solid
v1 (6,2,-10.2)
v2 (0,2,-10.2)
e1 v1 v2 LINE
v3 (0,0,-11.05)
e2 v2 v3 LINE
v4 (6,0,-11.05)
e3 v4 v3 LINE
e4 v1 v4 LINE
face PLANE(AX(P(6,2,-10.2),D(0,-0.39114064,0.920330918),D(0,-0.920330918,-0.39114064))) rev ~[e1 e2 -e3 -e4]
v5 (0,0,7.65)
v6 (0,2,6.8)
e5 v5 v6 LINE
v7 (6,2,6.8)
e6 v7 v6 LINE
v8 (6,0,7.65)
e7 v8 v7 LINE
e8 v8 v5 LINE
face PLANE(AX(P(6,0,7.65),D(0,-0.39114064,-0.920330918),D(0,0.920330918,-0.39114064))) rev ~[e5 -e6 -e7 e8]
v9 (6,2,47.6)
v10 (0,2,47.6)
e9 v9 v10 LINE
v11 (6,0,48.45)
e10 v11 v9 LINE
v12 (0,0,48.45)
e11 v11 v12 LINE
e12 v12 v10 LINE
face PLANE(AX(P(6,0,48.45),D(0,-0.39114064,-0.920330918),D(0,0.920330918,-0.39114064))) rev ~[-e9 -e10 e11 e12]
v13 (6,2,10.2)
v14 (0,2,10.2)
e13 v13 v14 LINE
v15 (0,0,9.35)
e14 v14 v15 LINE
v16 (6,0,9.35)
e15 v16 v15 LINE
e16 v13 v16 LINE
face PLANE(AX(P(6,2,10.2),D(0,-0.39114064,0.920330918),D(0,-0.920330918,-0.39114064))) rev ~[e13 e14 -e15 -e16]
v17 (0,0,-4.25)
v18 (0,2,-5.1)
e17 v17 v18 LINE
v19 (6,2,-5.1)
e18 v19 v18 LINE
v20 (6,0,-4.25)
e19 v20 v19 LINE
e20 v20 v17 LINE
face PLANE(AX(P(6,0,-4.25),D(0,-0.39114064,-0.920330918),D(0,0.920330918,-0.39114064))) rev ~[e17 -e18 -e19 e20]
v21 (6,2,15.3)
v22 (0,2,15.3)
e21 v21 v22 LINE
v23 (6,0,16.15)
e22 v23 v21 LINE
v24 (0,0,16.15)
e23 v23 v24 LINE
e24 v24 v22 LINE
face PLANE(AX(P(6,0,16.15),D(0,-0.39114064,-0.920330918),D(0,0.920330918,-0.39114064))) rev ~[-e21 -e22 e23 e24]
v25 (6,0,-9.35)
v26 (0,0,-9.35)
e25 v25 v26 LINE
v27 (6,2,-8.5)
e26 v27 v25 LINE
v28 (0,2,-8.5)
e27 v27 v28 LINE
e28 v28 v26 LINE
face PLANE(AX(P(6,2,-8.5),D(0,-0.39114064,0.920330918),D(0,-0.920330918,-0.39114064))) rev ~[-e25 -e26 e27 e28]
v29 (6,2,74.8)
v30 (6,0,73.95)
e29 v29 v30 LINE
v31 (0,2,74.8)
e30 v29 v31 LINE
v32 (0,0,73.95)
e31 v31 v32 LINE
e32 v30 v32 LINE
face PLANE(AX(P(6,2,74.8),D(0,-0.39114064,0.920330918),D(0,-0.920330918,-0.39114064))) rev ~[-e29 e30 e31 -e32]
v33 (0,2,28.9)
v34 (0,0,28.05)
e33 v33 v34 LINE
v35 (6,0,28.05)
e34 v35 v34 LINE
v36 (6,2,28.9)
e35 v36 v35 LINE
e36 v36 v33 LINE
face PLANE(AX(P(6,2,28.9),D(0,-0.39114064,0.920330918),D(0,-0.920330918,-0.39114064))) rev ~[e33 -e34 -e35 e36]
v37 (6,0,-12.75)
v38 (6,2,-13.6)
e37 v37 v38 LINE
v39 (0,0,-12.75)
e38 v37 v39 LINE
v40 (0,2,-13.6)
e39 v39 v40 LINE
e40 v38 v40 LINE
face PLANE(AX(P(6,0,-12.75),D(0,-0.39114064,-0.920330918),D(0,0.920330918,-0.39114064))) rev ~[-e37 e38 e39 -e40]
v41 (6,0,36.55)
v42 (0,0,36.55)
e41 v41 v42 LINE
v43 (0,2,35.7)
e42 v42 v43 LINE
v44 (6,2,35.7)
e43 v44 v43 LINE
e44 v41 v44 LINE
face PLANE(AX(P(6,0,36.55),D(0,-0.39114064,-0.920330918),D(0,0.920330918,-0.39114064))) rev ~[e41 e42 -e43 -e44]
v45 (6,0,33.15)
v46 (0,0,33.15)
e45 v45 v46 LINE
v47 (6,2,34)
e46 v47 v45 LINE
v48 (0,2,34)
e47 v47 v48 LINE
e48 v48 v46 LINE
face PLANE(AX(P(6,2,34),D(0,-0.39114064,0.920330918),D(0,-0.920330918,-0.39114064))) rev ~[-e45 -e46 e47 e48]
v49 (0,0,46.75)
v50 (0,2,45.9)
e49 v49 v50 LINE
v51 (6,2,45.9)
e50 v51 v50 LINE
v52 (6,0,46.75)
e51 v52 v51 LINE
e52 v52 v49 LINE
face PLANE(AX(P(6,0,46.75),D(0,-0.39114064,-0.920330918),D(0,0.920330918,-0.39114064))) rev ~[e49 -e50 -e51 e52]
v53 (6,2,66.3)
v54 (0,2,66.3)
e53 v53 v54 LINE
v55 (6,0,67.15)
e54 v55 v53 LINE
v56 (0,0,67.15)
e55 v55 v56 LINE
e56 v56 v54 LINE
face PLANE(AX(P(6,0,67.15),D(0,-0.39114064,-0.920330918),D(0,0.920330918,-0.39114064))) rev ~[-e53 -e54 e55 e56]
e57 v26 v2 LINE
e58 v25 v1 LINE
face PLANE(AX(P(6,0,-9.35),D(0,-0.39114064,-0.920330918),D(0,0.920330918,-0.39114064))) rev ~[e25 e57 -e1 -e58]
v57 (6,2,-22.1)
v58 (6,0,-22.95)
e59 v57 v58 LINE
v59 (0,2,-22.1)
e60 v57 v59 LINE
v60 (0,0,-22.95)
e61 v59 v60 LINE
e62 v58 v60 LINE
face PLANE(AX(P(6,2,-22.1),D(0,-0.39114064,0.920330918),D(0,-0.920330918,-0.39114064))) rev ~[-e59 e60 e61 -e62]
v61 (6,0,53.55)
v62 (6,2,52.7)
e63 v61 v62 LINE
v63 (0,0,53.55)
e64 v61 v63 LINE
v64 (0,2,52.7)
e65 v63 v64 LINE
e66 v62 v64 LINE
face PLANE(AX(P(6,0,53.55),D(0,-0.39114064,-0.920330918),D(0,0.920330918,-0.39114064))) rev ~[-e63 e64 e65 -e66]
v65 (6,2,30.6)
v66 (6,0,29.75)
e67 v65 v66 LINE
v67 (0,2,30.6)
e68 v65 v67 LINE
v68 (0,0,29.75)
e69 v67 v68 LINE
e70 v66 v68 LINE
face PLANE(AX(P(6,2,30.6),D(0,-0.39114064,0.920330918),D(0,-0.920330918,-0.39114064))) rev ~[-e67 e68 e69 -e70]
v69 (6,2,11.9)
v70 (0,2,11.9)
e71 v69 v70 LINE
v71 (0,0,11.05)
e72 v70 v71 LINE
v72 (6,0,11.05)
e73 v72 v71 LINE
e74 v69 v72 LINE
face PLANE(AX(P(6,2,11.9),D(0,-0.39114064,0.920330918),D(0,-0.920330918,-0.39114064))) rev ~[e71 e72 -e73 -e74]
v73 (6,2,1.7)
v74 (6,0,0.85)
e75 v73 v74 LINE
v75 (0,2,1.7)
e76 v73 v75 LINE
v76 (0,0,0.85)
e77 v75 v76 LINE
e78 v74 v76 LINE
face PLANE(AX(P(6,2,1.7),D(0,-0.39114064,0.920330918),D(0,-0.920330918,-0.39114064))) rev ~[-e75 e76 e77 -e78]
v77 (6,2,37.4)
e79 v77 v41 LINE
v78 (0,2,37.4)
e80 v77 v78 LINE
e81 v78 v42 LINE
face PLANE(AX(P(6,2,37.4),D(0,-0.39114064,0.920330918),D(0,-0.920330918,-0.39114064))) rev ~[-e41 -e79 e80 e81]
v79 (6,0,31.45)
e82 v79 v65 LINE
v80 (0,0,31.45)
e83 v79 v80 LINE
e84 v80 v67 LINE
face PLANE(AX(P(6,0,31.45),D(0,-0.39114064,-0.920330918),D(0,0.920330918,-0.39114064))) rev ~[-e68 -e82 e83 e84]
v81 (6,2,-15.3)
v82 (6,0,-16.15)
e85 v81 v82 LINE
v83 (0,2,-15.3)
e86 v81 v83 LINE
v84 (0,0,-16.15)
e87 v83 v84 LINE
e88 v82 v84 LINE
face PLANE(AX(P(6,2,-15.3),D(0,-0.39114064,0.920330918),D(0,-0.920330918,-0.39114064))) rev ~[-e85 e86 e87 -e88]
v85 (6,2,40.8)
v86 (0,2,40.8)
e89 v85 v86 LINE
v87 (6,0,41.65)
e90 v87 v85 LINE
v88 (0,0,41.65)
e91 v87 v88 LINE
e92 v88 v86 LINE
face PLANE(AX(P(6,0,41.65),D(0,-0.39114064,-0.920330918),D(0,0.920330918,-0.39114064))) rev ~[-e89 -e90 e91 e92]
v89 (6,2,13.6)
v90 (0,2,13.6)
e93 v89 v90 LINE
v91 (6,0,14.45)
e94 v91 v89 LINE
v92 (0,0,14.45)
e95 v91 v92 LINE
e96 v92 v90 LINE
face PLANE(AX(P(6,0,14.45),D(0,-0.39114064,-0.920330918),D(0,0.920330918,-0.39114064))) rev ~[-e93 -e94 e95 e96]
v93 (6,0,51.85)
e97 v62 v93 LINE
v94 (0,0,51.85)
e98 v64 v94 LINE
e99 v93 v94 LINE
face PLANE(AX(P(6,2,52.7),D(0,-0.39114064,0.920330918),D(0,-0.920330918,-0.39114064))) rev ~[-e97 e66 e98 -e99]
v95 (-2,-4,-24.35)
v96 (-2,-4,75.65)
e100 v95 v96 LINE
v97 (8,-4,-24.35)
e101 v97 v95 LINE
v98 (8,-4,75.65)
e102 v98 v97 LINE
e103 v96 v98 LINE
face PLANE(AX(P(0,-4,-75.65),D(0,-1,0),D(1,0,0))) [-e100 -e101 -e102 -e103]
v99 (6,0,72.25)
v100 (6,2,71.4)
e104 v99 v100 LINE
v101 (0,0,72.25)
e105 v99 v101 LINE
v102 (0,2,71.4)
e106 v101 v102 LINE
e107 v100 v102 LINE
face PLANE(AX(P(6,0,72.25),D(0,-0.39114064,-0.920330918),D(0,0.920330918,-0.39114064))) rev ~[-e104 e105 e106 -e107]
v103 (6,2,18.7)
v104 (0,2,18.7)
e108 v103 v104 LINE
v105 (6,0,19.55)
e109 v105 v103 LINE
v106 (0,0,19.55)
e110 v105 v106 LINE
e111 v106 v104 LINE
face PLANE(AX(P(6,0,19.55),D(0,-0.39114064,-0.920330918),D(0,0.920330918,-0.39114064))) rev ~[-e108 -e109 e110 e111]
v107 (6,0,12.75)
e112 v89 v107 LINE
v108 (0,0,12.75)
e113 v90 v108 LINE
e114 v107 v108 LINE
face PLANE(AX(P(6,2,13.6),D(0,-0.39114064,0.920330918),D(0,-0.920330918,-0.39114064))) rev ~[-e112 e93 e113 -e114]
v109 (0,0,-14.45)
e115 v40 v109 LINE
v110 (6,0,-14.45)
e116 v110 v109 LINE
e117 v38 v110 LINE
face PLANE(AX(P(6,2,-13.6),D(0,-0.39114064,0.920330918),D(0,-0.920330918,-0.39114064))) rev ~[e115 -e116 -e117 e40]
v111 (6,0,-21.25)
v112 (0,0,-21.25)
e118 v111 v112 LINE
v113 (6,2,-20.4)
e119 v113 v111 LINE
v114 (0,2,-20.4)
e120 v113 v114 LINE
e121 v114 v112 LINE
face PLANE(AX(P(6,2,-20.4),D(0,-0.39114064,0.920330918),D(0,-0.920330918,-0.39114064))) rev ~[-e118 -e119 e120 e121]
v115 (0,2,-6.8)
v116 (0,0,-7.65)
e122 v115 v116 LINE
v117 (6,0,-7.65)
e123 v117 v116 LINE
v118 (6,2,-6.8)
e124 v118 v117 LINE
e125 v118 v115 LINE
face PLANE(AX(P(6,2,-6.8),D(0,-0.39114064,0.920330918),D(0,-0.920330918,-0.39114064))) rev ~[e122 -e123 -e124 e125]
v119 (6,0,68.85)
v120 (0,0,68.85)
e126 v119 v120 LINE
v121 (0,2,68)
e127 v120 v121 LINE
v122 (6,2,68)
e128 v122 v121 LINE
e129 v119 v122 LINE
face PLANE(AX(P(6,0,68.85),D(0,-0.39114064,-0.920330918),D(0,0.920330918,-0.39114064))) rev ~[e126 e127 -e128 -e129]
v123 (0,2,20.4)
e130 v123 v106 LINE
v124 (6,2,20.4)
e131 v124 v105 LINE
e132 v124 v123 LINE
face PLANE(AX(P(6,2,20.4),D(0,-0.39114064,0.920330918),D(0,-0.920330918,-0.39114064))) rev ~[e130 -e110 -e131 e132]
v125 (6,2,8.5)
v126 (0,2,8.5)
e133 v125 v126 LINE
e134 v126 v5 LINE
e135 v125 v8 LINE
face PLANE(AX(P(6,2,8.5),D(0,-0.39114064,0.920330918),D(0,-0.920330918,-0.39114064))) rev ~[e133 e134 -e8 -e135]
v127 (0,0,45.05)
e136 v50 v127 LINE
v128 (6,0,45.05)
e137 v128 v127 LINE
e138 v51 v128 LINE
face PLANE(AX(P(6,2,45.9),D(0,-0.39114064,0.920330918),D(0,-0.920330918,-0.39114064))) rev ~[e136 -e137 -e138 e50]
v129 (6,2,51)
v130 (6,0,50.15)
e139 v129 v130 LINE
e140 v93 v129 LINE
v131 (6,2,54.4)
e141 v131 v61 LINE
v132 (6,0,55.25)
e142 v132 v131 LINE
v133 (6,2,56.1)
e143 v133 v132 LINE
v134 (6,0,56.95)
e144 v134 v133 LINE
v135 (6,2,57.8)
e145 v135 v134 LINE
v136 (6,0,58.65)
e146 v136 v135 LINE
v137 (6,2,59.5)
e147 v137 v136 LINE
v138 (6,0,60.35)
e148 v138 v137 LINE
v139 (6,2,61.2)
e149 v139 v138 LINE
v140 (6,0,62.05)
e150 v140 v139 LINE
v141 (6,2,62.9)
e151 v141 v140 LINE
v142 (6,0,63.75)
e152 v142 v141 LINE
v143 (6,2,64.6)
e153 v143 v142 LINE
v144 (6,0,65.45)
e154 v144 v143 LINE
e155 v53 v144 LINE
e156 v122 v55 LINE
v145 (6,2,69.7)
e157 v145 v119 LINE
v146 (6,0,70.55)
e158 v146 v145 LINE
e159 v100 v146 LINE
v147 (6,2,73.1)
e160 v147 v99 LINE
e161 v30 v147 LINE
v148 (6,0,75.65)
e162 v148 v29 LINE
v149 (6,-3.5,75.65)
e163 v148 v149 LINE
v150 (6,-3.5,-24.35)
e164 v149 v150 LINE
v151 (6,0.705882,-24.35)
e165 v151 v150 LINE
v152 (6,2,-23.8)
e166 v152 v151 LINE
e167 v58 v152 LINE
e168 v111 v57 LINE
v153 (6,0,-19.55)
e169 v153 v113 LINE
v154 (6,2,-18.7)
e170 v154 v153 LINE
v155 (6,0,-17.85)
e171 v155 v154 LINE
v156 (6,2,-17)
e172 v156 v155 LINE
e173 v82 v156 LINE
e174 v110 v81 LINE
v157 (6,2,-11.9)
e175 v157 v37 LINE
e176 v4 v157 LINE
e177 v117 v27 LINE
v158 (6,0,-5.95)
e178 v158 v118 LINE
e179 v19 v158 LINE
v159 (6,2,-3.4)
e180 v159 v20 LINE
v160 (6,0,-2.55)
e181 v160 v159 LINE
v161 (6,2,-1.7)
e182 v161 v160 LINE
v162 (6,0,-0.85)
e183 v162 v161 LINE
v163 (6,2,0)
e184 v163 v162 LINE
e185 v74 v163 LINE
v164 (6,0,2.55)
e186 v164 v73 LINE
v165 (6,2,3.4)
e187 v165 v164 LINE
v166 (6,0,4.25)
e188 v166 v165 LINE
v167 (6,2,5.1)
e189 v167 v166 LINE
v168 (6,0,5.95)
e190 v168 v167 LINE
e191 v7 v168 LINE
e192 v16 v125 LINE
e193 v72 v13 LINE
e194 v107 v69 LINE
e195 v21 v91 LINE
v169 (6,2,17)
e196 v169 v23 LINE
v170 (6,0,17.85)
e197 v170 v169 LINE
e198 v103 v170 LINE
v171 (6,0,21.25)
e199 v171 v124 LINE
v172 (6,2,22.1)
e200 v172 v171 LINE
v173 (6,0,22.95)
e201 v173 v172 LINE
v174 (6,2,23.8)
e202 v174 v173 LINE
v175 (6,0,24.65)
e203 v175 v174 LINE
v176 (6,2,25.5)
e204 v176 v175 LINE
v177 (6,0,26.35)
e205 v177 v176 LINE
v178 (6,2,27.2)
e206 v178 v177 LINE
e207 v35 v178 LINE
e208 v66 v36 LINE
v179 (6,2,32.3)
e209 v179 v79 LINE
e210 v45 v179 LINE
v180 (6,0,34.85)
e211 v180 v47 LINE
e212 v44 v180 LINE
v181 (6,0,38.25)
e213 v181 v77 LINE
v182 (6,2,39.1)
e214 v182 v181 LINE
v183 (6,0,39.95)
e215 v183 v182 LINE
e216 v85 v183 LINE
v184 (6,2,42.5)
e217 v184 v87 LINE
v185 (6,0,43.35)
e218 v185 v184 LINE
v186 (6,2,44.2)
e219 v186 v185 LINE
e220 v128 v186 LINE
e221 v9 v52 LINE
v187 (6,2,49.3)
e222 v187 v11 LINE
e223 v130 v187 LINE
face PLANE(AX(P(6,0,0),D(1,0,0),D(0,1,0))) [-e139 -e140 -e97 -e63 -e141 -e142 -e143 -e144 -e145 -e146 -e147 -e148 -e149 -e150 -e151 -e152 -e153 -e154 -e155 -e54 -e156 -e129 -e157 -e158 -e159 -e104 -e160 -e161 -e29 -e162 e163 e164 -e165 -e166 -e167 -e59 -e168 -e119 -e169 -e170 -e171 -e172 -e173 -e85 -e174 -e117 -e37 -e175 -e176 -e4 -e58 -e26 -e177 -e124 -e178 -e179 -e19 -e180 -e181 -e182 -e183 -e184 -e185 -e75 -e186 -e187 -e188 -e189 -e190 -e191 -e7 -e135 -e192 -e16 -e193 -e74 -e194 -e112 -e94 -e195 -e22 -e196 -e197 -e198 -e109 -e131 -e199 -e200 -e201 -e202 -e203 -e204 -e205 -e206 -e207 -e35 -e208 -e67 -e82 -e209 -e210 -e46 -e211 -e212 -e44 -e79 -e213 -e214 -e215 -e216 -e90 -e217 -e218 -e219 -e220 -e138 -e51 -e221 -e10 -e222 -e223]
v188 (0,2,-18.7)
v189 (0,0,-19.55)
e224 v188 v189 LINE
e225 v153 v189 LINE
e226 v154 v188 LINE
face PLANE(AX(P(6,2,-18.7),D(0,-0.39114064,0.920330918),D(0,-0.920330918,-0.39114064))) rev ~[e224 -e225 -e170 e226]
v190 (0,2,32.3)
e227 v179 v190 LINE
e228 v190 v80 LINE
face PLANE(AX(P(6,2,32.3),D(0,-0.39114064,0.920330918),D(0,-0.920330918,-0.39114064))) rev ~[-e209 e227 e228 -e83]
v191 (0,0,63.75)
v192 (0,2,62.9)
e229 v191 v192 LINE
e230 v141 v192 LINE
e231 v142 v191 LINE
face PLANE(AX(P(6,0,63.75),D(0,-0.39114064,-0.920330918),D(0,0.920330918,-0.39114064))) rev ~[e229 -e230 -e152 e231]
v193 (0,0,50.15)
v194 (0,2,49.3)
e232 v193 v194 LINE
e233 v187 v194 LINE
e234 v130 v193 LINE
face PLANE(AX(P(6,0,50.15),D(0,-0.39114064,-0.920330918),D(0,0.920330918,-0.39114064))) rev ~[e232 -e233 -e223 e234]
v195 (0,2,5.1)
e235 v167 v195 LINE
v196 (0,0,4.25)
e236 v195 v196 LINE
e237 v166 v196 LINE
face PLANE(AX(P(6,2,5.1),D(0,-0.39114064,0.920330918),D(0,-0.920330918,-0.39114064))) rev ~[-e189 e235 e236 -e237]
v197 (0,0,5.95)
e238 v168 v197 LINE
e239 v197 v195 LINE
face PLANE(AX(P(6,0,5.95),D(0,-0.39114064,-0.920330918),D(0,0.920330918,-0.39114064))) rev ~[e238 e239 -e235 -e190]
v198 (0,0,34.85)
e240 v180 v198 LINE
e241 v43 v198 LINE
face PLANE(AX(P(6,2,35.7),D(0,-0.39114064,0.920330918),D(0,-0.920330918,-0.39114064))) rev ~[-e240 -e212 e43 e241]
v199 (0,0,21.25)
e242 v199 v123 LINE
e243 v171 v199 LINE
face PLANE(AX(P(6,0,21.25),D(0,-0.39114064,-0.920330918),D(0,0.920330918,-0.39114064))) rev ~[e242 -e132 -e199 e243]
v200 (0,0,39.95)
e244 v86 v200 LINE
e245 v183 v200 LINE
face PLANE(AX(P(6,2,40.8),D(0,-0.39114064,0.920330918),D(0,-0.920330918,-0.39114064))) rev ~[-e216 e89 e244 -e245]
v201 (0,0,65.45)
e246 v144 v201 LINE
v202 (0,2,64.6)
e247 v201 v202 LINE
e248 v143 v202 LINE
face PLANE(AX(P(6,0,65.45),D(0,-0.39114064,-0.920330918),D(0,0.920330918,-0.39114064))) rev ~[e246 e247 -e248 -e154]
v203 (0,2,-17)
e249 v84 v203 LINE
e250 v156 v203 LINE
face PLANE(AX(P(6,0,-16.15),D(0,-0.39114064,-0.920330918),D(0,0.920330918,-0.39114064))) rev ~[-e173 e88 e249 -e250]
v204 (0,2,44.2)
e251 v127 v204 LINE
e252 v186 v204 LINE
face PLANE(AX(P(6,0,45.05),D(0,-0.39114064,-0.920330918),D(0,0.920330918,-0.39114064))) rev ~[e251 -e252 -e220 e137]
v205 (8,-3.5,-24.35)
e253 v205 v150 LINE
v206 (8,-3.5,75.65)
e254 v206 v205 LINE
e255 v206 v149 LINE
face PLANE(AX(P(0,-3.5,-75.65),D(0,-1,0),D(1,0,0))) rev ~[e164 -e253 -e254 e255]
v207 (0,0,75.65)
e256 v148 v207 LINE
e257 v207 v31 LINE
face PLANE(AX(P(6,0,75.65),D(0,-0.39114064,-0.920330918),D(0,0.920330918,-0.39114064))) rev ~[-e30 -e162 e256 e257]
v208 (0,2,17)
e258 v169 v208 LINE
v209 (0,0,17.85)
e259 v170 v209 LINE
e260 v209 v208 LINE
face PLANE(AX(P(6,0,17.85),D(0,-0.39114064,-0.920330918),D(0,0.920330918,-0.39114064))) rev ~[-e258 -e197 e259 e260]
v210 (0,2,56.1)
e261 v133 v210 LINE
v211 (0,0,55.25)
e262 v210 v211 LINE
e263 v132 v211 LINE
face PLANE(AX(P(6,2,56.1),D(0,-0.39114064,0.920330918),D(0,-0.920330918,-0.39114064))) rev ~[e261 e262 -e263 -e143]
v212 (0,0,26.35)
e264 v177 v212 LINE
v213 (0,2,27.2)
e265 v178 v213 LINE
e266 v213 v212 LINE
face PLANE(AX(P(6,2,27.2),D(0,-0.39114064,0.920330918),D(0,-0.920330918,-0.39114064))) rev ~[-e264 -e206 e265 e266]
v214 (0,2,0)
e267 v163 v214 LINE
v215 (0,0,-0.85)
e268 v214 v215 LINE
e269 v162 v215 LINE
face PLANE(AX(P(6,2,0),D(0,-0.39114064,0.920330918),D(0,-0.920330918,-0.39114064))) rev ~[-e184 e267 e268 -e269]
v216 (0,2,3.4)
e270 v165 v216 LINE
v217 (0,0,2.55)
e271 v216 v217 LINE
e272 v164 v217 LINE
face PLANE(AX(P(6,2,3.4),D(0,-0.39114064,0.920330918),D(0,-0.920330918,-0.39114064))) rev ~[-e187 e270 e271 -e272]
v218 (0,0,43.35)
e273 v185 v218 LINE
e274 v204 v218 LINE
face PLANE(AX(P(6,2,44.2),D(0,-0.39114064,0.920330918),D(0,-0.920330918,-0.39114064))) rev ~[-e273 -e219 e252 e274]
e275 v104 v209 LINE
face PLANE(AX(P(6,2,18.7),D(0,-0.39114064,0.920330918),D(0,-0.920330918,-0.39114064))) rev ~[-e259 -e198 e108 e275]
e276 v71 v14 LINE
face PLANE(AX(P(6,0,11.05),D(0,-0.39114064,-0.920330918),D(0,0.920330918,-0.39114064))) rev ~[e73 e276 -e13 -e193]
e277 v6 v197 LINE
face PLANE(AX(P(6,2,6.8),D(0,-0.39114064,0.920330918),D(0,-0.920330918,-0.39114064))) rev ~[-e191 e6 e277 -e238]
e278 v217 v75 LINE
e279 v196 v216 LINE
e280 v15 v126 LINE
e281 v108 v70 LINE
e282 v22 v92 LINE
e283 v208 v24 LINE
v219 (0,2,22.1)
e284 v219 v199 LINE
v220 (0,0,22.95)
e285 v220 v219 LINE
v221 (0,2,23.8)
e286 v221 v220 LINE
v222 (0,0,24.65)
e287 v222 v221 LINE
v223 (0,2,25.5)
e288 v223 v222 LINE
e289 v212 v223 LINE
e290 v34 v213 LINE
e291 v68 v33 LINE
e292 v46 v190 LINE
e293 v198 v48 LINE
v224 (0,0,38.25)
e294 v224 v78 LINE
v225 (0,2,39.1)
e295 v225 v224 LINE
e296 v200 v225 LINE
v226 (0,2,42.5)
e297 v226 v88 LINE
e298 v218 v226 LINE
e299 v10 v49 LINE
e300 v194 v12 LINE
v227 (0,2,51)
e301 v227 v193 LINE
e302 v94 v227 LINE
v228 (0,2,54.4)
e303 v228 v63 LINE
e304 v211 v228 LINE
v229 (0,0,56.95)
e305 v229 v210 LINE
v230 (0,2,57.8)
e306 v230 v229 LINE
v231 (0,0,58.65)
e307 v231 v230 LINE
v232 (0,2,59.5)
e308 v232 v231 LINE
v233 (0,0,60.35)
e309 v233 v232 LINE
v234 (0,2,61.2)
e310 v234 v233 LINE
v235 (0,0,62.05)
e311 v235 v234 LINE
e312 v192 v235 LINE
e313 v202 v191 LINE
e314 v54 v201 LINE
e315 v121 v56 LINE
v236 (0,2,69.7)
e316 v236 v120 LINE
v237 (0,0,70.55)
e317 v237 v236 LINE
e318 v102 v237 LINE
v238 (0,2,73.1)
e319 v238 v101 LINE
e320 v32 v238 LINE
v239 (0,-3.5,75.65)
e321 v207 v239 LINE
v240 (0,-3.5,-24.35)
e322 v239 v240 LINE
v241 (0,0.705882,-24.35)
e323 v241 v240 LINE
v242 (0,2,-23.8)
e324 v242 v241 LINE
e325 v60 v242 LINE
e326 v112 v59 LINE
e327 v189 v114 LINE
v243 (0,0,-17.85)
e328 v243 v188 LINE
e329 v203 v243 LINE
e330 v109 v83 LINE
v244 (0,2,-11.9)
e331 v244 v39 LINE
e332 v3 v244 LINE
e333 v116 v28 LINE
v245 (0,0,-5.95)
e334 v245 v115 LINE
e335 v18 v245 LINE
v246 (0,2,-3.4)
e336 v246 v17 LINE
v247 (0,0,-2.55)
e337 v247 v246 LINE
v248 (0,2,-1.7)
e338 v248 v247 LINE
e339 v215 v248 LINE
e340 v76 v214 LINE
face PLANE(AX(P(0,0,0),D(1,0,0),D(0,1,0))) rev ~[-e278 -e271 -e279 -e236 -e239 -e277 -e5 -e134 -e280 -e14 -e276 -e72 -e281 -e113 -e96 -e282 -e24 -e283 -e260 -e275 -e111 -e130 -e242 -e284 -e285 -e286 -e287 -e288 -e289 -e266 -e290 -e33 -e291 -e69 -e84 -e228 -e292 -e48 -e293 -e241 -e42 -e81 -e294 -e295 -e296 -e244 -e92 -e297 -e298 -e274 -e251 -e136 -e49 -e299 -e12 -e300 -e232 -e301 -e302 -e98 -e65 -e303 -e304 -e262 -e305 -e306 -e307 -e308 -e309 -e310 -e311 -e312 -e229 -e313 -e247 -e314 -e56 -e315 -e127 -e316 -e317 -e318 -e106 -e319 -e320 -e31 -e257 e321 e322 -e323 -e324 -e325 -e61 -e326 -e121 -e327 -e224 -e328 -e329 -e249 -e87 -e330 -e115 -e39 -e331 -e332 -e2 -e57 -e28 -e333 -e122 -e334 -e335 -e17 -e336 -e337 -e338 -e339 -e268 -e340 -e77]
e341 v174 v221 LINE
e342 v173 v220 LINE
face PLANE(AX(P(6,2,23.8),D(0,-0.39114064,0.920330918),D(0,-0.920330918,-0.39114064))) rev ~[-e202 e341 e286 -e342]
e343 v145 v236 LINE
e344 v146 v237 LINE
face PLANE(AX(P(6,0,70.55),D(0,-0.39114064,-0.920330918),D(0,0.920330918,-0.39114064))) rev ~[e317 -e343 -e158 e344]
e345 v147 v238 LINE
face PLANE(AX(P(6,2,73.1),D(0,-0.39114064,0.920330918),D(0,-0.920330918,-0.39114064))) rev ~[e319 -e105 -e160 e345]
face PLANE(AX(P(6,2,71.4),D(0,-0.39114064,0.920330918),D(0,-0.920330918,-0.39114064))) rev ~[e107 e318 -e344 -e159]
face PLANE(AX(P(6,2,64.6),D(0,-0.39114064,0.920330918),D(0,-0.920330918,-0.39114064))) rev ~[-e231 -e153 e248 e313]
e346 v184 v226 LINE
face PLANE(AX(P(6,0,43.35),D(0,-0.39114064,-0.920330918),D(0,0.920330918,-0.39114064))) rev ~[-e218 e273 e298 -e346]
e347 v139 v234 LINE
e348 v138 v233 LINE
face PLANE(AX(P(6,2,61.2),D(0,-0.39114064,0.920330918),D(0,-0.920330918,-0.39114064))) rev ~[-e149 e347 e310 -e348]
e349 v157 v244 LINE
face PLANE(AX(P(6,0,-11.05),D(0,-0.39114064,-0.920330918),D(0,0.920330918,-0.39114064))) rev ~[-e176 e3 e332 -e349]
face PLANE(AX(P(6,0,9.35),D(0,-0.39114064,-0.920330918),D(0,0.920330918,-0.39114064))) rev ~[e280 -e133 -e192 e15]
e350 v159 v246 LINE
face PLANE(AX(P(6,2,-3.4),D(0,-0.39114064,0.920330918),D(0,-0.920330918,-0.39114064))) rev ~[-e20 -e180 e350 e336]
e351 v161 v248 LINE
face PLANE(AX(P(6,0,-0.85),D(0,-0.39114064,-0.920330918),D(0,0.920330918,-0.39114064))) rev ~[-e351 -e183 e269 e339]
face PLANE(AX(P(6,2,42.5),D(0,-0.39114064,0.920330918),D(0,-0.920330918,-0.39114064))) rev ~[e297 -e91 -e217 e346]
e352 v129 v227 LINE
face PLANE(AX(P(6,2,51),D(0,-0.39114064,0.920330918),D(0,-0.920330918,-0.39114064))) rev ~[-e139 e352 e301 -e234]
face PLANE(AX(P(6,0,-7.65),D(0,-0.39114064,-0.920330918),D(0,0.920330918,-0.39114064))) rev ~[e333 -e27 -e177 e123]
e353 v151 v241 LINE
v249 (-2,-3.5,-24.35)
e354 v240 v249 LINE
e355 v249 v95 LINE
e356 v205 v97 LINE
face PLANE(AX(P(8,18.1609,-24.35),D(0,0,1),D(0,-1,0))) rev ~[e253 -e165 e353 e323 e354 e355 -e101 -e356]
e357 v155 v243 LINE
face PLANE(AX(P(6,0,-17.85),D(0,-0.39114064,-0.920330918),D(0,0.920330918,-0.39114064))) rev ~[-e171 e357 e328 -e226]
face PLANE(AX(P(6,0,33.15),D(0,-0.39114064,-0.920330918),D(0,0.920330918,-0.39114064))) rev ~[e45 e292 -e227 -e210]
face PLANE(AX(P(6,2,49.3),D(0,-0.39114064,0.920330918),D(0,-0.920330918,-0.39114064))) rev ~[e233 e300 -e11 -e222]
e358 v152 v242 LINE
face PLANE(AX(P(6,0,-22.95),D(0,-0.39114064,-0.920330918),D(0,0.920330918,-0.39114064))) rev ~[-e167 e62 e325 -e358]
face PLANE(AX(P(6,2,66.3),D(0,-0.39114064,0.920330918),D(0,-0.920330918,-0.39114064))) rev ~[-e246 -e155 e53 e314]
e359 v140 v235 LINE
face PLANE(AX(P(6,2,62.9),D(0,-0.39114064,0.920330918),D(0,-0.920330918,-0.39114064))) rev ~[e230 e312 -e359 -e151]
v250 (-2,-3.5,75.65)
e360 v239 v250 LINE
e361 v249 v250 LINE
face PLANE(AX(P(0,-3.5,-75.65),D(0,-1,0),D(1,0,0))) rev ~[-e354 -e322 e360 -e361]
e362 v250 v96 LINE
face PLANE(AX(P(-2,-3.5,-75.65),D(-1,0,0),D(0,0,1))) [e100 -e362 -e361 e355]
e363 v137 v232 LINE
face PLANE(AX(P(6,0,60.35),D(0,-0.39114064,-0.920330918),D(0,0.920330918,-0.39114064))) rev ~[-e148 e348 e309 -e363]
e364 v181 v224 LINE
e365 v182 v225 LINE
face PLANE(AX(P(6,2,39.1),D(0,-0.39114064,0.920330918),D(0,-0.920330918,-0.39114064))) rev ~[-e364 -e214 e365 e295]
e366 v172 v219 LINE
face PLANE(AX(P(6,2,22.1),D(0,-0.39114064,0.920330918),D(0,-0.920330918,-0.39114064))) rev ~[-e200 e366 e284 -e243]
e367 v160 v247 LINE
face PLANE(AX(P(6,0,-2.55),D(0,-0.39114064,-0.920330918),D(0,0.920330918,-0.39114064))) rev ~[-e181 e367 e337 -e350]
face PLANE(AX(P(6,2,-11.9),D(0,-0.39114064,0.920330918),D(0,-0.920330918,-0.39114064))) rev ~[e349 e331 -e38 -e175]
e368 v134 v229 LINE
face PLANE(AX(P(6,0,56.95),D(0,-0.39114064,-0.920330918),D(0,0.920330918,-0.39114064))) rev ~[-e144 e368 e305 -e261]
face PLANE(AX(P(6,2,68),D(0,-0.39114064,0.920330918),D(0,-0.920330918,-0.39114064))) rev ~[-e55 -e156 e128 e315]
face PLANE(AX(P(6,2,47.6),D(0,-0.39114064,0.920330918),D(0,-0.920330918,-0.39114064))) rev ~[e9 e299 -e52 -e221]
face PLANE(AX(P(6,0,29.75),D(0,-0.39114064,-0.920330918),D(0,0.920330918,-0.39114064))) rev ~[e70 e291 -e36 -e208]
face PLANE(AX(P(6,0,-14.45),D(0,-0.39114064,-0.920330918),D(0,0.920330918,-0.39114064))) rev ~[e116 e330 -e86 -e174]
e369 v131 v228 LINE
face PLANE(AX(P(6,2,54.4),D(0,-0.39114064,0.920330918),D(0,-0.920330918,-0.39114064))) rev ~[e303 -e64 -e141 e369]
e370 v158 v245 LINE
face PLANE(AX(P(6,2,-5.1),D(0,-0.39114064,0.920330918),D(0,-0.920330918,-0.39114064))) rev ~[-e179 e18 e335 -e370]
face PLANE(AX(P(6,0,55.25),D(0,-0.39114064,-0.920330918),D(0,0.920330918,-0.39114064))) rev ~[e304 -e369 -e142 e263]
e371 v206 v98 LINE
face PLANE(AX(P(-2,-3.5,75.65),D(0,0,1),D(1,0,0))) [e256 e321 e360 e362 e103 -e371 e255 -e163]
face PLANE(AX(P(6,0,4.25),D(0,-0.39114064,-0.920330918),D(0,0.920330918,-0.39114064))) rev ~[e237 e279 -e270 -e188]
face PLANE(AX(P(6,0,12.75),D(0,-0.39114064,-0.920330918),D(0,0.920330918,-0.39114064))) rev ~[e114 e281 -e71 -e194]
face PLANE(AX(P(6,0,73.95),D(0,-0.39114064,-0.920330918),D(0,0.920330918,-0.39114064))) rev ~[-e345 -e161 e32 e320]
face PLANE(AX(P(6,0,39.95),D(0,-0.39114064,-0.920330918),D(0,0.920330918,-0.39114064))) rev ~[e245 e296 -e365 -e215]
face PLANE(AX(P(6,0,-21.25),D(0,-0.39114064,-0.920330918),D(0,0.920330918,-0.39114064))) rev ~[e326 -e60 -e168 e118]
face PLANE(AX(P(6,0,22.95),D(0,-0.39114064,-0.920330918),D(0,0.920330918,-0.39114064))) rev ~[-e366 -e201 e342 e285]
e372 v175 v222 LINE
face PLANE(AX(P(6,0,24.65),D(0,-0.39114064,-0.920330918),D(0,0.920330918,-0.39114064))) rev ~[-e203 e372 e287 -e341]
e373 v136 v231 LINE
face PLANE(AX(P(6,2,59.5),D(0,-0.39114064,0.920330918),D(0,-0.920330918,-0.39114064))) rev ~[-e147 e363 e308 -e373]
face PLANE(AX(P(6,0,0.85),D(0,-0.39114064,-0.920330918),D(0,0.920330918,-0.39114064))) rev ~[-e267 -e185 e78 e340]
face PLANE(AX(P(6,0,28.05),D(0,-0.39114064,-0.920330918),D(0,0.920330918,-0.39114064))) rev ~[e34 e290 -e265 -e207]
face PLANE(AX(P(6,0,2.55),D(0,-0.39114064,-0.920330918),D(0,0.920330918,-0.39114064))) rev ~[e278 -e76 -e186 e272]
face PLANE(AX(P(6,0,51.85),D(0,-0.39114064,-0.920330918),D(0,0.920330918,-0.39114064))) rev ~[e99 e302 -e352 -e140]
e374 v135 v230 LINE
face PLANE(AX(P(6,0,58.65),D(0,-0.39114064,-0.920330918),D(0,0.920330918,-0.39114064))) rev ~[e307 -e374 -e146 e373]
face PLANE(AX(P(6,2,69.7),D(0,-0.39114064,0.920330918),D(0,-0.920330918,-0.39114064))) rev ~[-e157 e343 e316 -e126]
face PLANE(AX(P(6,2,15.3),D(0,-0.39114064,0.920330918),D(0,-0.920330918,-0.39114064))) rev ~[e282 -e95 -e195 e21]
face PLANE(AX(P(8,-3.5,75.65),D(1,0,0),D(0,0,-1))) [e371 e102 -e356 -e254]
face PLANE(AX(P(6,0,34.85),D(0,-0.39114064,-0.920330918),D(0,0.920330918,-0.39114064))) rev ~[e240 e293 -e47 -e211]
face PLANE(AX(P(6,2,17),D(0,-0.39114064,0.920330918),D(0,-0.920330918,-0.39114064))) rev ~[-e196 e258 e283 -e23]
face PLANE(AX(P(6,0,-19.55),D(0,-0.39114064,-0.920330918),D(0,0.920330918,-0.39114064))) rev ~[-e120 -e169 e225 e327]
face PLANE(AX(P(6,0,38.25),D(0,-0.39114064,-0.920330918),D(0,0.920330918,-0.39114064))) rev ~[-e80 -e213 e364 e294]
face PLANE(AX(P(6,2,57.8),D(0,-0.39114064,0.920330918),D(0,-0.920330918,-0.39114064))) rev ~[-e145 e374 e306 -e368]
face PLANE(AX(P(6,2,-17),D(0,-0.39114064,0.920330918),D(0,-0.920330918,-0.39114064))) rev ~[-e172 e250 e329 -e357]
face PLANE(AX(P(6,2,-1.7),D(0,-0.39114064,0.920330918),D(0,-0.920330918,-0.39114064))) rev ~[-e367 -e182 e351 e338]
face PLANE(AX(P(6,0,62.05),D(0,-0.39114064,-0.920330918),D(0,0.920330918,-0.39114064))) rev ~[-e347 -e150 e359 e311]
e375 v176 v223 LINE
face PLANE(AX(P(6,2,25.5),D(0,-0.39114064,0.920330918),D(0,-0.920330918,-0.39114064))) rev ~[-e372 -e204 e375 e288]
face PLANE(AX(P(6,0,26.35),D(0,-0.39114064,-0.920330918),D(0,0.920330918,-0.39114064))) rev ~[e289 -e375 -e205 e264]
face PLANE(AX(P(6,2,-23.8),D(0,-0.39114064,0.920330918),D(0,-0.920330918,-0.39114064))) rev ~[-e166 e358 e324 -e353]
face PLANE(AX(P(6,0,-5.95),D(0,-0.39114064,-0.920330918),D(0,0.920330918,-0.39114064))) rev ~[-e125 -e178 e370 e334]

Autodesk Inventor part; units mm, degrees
ref_plane "YZ Plane" through (0, 0, 0) normal (1, 0, 0) x (0, 1, 0)
ref_plane "XZ Plane" through (0, 0, 0) normal (0, 1, 0) x (-1, 0, 0)
ref_plane "XY Plane" through (0, 0, 0) normal (0, 0, 1) x (1, 0, 0)
sketch "Skizze1" plane through (0, 0, 0) normal (1, 0, 0) x (0, 1, 0)
  line L0 (3.5, 75.65) -> (-3.5, 75.65)
  line L1 (-3.5, 75.65) -> (-3.5, -75.65)
  line L2 (-3.5, -75.65) -> (3.5, -75.65)
  line L3 (3.5, -75.65) -> (3.5, 75.65)
  line L4 (3.5, 75.65) -> (-3.5, -75.65) construction
  line L5 (-3.5, 75.65) -> (3.5, -75.65) construction
  point P0 (0, 0)
  dimension "d0" = 7
  dimension "d1" = 151.3
extrude "Extrusion1" add sketch "Skizze1" along normal blind 6
sketch "Skizze3" plane through (0, -3.5, -75.65) normal (0, -1, 0) x (1, 0, 0)
  line L0 (-2, 151.3) -> (8, 151.3)
  line L1 (8, 151.3) -> (8, 0)
  line L2 (8, 0) -> (-2, 0)
  line L3 (-2, 0) -> (-2, 151.3)
  line L4 (6, 151.3) -> (6, 0) projected
  line L5 (0, 151.3) -> (6, 151.3) projected
  point P0 (0, 75.65)
  dimension "d21" = 151.3
  dimension "d22" = 10
  dimension "d23" = 2
  dimension "d24" = 0
extrude "Extrusion3" add sketch "Skizze3" along normal blind 0.5
sketch "Skizze5" plane through (6, 0, 0) normal (1, 0, 0) x (0, 0, -1)
  line L0 (-75.65, 3.5) -> (-75.65, -3.5) projected
  line L1 (-75.65, 0) -> (-74.8, 2)
  line L2 (-74.8, 2) -> (-73.95, 0)
  line L3 (75.65, 3.5) -> (-75.65, 3.5) projected
  line L4 (-73.1, 2) -> (-72.25, 0)
  line L5 (-73.95, 0) -> (-73.1, 2)
  line L6 (-71.4, 2) -> (-70.55, 0)
  line L7 (-72.25, 0) -> (-71.4, 2)
  line L8 (-69.7, 2) -> (-68.85, 0)
  line L9 (-70.55, 0) -> (-69.7, 2)
  line L10 (-68, 2) -> (-67.15, 0)
  line L11 (-68.85, 0) -> (-68, 2)
  line L12 (-66.3, 2) -> (-65.45, 0)
  line L13 (-67.15, 0) -> (-66.3, 2)
  line L14 (-64.6, 2) -> (-63.75, 0)
  line L15 (-65.45, 0) -> (-64.6, 2)
  line L16 (-62.9, 2) -> (-62.05, 0)
  line L17 (-63.75, 0) -> (-62.9, 2)
  line L18 (-61.2, 2) -> (-60.35, 0)
  line L19 (-62.05, 0) -> (-61.2, 2)
  line L20 (-59.5, 2) -> (-58.65, 0)
  line L21 (-60.35, 0) -> (-59.5, 2)
  line L22 (-57.8, 2) -> (-56.95, 0)
  line L23 (-58.65, 0) -> (-57.8, 2)
  line L24 (-56.1, 2) -> (-55.25, 0)
  line L25 (-56.95, 0) -> (-56.1, 2)
  line L26 (-54.4, 2) -> (-53.55, 0)
  line L27 (-55.25, 0) -> (-54.4, 2)
  line L28 (-52.7, 2) -> (-51.85, 0)
  line L29 (-53.55, 0) -> (-52.7, 2)
  line L30 (-51, 2) -> (-50.15, 0)
  line L31 (-51.85, 0) -> (-51, 2)
  line L32 (-49.3, 2) -> (-48.45, 0)
  line L33 (-50.15, 0) -> (-49.3, 2)
  line L34 (-47.6, 2) -> (-46.75, 0)
  line L35 (-48.45, 0) -> (-47.6, 2)
  line L36 (-45.9, 2) -> (-45.05, 0)
  line L37 (-46.75, 0) -> (-45.9, 2)
  line L38 (-44.2, 2) -> (-43.35, 0)
  line L39 (-45.05, 0) -> (-44.2, 2)
  line L40 (-42.5, 2) -> (-41.65, 0)
  line L41 (-43.35, 0) -> (-42.5, 2)
  line L42 (-40.8, 2) -> (-39.95, 0)
  line L43 (-41.65, 0) -> (-40.8, 2)
  line L44 (-39.1, 2) -> (-38.25, 0)
  line L45 (-39.95, 0) -> (-39.1, 2)
  line L46 (-37.4, 2) -> (-36.55, 0)
  line L47 (-38.25, 0) -> (-37.4, 2)
  line L48 (-35.7, 2) -> (-34.85, 0)
  line L49 (-36.55, 0) -> (-35.7, 2)
  line L50 (-34, 2) -> (-33.15, 0)
  line L51 (-34.85, 0) -> (-34, 2)
  line L52 (-32.3, 2) -> (-31.45, 0)
  line L53 (-33.15, 0) -> (-32.3, 2)
  line L54 (-30.6, 2) -> (-29.75, 0)
  line L55 (-31.45, 0) -> (-30.6, 2)
  line L56 (-28.9, 2) -> (-28.05, 0)
  line L57 (-29.75, 0) -> (-28.9, 2)
  line L58 (-27.2, 2) -> (-26.35, 0)
  line L59 (-28.05, 0) -> (-27.2, 2)
  line L60 (-25.5, 2) -> (-24.65, 0)
  line L61 (-26.35, 0) -> (-25.5, 2)
  line L62 (-23.8, 2) -> (-22.95, 0)
  line L63 (-24.65, 0) -> (-23.8, 2)
  line L64 (-22.1, 2) -> (-21.25, 0)
  line L65 (-22.95, 0) -> (-22.1, 2)
  line L66 (-20.4, 2) -> (-19.55, 0)
  line L67 (-21.25, 0) -> (-20.4, 2)
  line L68 (-18.7, 2) -> (-17.85, 0)
  line L69 (-19.55, 0) -> (-18.7, 2)
  line L70 (-17, 2) -> (-16.15, 0)
  line L71 (-17.85, 0) -> (-17, 2)
  line L72 (-15.3, 2) -> (-14.45, 0)
  line L73 (-16.15, 0) -> (-15.3, 2)
  line L74 (-13.6, 2) -> (-12.75, 0)
  line L75 (-14.45, 0) -> (-13.6, 2)
  line L76 (-11.9, 2) -> (-11.05, 0)
  line L77 (-12.75, 0) -> (-11.9, 2)
  line L78 (-10.2, 2) -> (-9.35, 0)
  line L79 (-11.05, 0) -> (-10.2, 2)
  line L80 (-8.5, 2) -> (-7.65, 0)
  line L81 (-9.35, 0) -> (-8.5, 2)
  line L82 (-6.8, 2) -> (-5.95, 0)
  line L83 (-7.65, 0) -> (-6.8, 2)
  line L84 (-5.1, 2) -> (-4.25, 0)
  line L85 (-5.95, 0) -> (-5.1, 2)
  line L86 (-3.4, 2) -> (-2.55, 0)
  line L87 (-4.25, 0) -> (-3.4, 2)
  line L88 (-1.7, 2) -> (-0.85, 0)
  line L89 (-2.55, 0) -> (-1.7, 2)
  line L90 (0, 2) -> (0.85, 0)
  line L91 (-0.85, 0) -> (0, 2)
  line L92 (1.7, 2) -> (2.55, 0)
  line L93 (0.85, 0) -> (1.7, 2)
  line L94 (3.4, 2) -> (4.25, 0)
  line L95 (2.55, 0) -> (3.4, 2)
  line L96 (5.1, 2) -> (5.95, 0)
  line L97 (4.25, 0) -> (5.1, 2)
  line L98 (6.8, 2) -> (7.65, 0)
  line L99 (5.95, 0) -> (6.8, 2)
  line L100 (8.5, 2) -> (9.35, 0)
  line L101 (7.65, 0) -> (8.5, 2)
  line L102 (10.2, 2) -> (11.05, 0)
  line L103 (9.35, 0) -> (10.2, 2)
  line L104 (11.9, 2) -> (12.75, 0)
  line L105 (11.05, 0) -> (11.9, 2)
  line L106 (13.6, 2) -> (14.45, 0)
  line L107 (12.75, 0) -> (13.6, 2)
  line L108 (15.3, 2) -> (16.15, 0)
  line L109 (14.45, 0) -> (15.3, 2)
  line L110 (17, 2) -> (17.85, 0)
  line L111 (16.15, 0) -> (17, 2)
  line L112 (18.7, 2) -> (19.55, 0)
  line L113 (17.85, 0) -> (18.7, 2)
  line L114 (20.4, 2) -> (21.25, 0)
  line L115 (19.55, 0) -> (20.4, 2)
  line L116 (22.1, 2) -> (22.95, 0)
  line L117 (21.25, 0) -> (22.1, 2)
  line L118 (23.8, 2) -> (24.65, 0)
  line L119 (22.95, 0) -> (23.8, 2)
  line L120 (25.5, 2) -> (26.35, 0)
  line L121 (24.65, 0) -> (25.5, 2)
  line L122 (27.2, 2) -> (28.05, 0)
  line L123 (26.35, 0) -> (27.2, 2)
  line L124 (28.9, 2) -> (29.75, 0)
  line L125 (28.05, 0) -> (28.9, 2)
  line L126 (30.6, 2) -> (31.45, 0)
  line L127 (29.75, 0) -> (30.6, 2)
  line L128 (32.3, 2) -> (33.15, 0)
  line L129 (31.45, 0) -> (32.3, 2)
  line L130 (34, 2) -> (34.85, 0)
  line L131 (33.15, 0) -> (34, 2)
  line L132 (35.7, 2) -> (36.55, 0)
  line L133 (34.85, 0) -> (35.7, 2)
  line L134 (37.4, 2) -> (38.25, 0)
  line L135 (36.55, 0) -> (37.4, 2)
  line L136 (39.1, 2) -> (39.95, 0)
  line L137 (38.25, 0) -> (39.1, 2)
  line L138 (40.8, 2) -> (41.65, 0)
  line L139 (39.95, 0) -> (40.8, 2)
  line L140 (42.5, 2) -> (43.35, 0)
  line L141 (41.65, 0) -> (42.5, 2)
  line L142 (44.2, 2) -> (45.05, 0)
  line L143 (43.35, 0) -> (44.2, 2)
  line L144 (45.9, 2) -> (46.75, 0)
  line L145 (45.05, 0) -> (45.9, 2)
  line L146 (47.6, 2) -> (48.45, 0)
  line L147 (46.75, 0) -> (47.6, 2)
  line L148 (49.3, 2) -> (50.15, 0)
  line L149 (48.45, 0) -> (49.3, 2)
  line L150 (51, 2) -> (51.85, 0)
  line L151 (50.15, 0) -> (51, 2)
  line L152 (52.7, 2) -> (53.55, 0)
  line L153 (51.85, 0) -> (52.7, 2)
  line L154 (54.4, 2) -> (55.25, 0)
  line L155 (53.55, 0) -> (54.4, 2)
  line L156 (56.1, 2) -> (56.95, 0)
  line L157 (55.25, 0) -> (56.1, 2)
  line L158 (57.8, 2) -> (58.65, 0)
  line L159 (56.95, 0) -> (57.8, 2)
  line L160 (59.5, 2) -> (60.35, 0)
  line L161 (58.65, 0) -> (59.5, 2)
  line L162 (61.2, 2) -> (62.05, 0)
  line L163 (60.35, 0) -> (61.2, 2)
  line L164 (62.9, 2) -> (63.75, 0)
  line L165 (62.05, 0) -> (62.9, 2)
  line L166 (64.6, 2) -> (65.45, 0)
  line L167 (63.75, 0) -> (64.6, 2)
  line L168 (66.3, 2) -> (67.15, 0)
  line L169 (65.45, 0) -> (66.3, 2)
  line L170 (68, 2) -> (68.85, 0)
  line L171 (67.15, 0) -> (68, 2)
  line L172 (69.7, 2) -> (70.55, 0)
  line L173 (68.85, 0) -> (69.7, 2)
  line L174 (71.4, 2) -> (72.25, 0)
  line L175 (70.55, 0) -> (71.4, 2)
  line L176 (73.1, 2) -> (73.95, 0)
  line L177 (72.25, 0) -> (73.1, 2)
  line L178 (74.8, 2) -> (75.65, 0)
  line L179 (73.95, 0) -> (74.8, 2)
  line L180 (76.5, 2) -> (77.35, 0)
  line L181 (75.65, 0) -> (76.5, 2)
  line L182 (78.2, 2) -> (79.05, 0)
  line L183 (77.35, 0) -> (78.2, 2)
  line L184 (79.9, 2) -> (80.75, 0)
  line L185 (79.05, 0) -> (79.9, 2)
  line L186 (81.6, 2) -> (82.45, 0)
  line L187 (80.75, 0) -> (81.6, 2)
  line L188 (83.3, 2) -> (84.15, 0)
  line L189 (82.45, 0) -> (83.3, 2)
  line L190 (85, 2) -> (85.85, 0)
  line L191 (84.15, 0) -> (85, 2)
  line L192 (86.7, 2) -> (87.55, 0)
  line L193 (85.85, 0) -> (86.7, 2)
  line L194 (88.4, 2) -> (89.25, 0)
  line L195 (87.55, 0) -> (88.4, 2)
  line L196 (90.1, 2) -> (90.95, 0)
  line L197 (89.25, 0) -> (90.1, 2)
  line L198 (91.8, 2) -> (92.65, 0)
  line L199 (90.95, 0) -> (91.8, 2)
  line L200 (93.5, 2) -> (94.35, 0)
  line L201 (92.65, 0) -> (93.5, 2)
  line L202 (95.2, 2) -> (96.05, 0)
  line L203 (94.35, 0) -> (95.2, 2)
  line L204 (96.9, 2) -> (97.75, 0)
  line L205 (96.05, 0) -> (96.9, 2)
  line L206 (98.6, 2) -> (99.45, 0)
  line L207 (97.75, 0) -> (98.6, 2)
  line L208 (100.3, 2) -> (101.15, 0)
  line L209 (99.45, 0) -> (100.3, 2)
  line L210 (102, 2) -> (102.85, 0)
  line L211 (101.15, 0) -> (102, 2)
  line L212 (103.7, 2) -> (104.55, 0)
  line L213 (102.85, 0) -> (103.7, 2)
  line L214 (105.4, 2) -> (106.25, 0)
  line L215 (104.55, 0) -> (105.4, 2)
  line L216 (107.1, 2) -> (107.95, 0)
  line L217 (106.25, 0) -> (107.1, 2)
  line L218 (108.8, 2) -> (109.65, 0)
  line L219 (107.95, 0) -> (108.8, 2)
  line L220 (110.5, 2) -> (111.35, 0)
  line L221 (109.65, 0) -> (110.5, 2)
  line L222 (112.2, 2) -> (113.05, 0)
  line L223 (111.35, 0) -> (112.2, 2)
  line L224 (113.9, 2) -> (114.75, 0)
  line L225 (113.05, 0) -> (113.9, 2)
  line L226 (115.6, 2) -> (116.45, 0)
  line L227 (114.75, 0) -> (115.6, 2)
  line L228 (117.3, 2) -> (118.15, 0)
  line L229 (116.45, 0) -> (117.3, 2)
  line L230 (119, 2) -> (119.85, 0)
  line L231 (118.15, 0) -> (119, 2)
  line L232 (120.7, 2) -> (121.55, 0)
  line L233 (119.85, 0) -> (120.7, 2)
  line L234 (122.4, 2) -> (123.25, 0)
  line L235 (121.55, 0) -> (122.4, 2)
  line L236 (124.1, 2) -> (124.95, 0)
  line L237 (123.25, 0) -> (124.1, 2)
  line L238 (125.8, 2) -> (126.65, 0)
  line L239 (124.95, 0) -> (125.8, 2)
  line L240 (127.5, 2) -> (128.35, 0)
  line L241 (126.65, 0) -> (127.5, 2)
  line L242 (129.2, 2) -> (130.05, 0)
  line L243 (128.35, 0) -> (129.2, 2)
  line L244 (130.9, 2) -> (131.75, 0)
  line L245 (130.05, 0) -> (130.9, 2)
  line L246 (132.6, 2) -> (133.45, 0)
  line L247 (131.75, 0) -> (132.6, 2)
  line L248 (134.3, 2) -> (135.15, 0)
  line L249 (133.45, 0) -> (134.3, 2)
  line L250 (136, 2) -> (136.85, 0)
  line L251 (135.15, 0) -> (136, 2)
  line L252 (-75.65, 3.5) -> (-75.65, -3.5) projected
  line L253 (-75.65, 0) -> (-75.65, 3.5)
  line L254 (-75.65, 3.5) -> (75.65, 3.5)
  line L255 (75.65, -3.5) -> (75.65, 3.5) projected
  line L256 (121.55, 0) -> (75.65, 3.5)
  point P0 (0, 0)
  point P1 (119.85, 0)
  point P2 (-73.95, 0)
  point P3 (-72.25, 0)
  point P4 (-70.55, 0)
  point P5 (-68.85, 0)
  point P6 (-67.15, 0)
  point P7 (-65.45, 0)
  point P8 (-63.75, 0)
  point P9 (-62.05, 0)
  point P10 (-60.35, 0)
  point P11 (-58.65, 0)
  point P12 (-56.95, 0)
  point P13 (-55.25, 0)
  point P14 (-53.55, 0)
  point P15 (-51.85, 0)
  point P16 (-50.15, 0)
  point P17 (-48.45, 0)
  point P18 (-46.75, 0)
  point P19 (-45.05, 0)
  point P20 (-43.35, 0)
  point P21 (-41.65, 0)
  point P22 (-39.95, 0)
  point P23 (-38.25, 0)
  point P24 (-36.55, 0)
  point P25 (-34.85, 0)
  point P26 (-33.15, 0)
  point P27 (-31.45, 0)
  point P28 (-29.75, 0)
  point P29 (-28.05, 0)
  point P30 (-26.35, 0)
  point P31 (-24.65, 0)
  point P32 (-22.95, 0)
  point P33 (-21.25, 0)
  point P34 (-19.55, 0)
  point P35 (-17.85, 0)
  point P36 (-16.15, 0)
  point P37 (-14.45, 0)
  point P38 (-12.75, 0)
  point P39 (-11.05, 0)
  point P40 (-9.35, 0)
  point P41 (-7.65, 0)
  point P42 (-5.95, 0)
  point P43 (-4.25, 0)
  point P44 (-2.55, 0)
  point P45 (-0.85, 0)
  point P46 (0.85, 0)
  point P47 (2.55, 0)
  point P48 (4.25, 0)
  point P49 (5.95, 0)
  point P50 (7.65, 0)
  point P51 (9.35, 0)
  point P52 (11.05, 0)
  point P53 (12.75, 0)
  point P54 (14.45, 0)
  point P55 (16.15, 0)
  point P56 (17.85, 0)
  point P57 (19.55, 0)
  point P58 (21.25, 0)
  point P59 (22.95, 0)
  point P60 (24.65, 0)
  point P61 (26.35, 0)
  point P62 (28.05, 0)
  point P63 (29.75, 0)
  point P64 (31.45, 0)
  point P65 (33.15, 0)
  point P66 (34.85, 0)
  point P67 (36.55, 0)
  point P68 (38.25, 0)
  point P69 (39.95, 0)
  point P70 (41.65, 0)
  point P71 (43.35, 0)
  point P72 (45.05, 0)
  point P73 (46.75, 0)
  point P74 (48.45, 0)
  point P75 (50.15, 0)
  point P76 (51.85, 0)
  point P77 (53.55, 0)
  point P78 (55.25, 0)
  point P79 (56.95, 0)
  point P80 (58.65, 0)
  point P81 (60.35, 0)
  point P82 (62.05, 0)
  point P83 (63.75, 0)
  point P84 (65.45, 0)
  point P85 (67.15, 0)
  point P86 (68.85, 0)
  point P87 (70.55, 0)
  point P88 (72.25, 0)
  point P89 (73.95, 0)
  point P90 (75.65, 0)
  point P91 (77.35, 0)
  point P92 (79.05, 0)
  point P93 (80.75, 0)
  point P94 (82.45, 0)
  point P95 (84.15, 0)
  point P96 (85.85, 0)
  point P97 (87.55, 0)
  point P98 (89.25, 0)
  point P99 (90.95, 0)
  point P100 (92.65, 0)
  point P101 (94.35, 0)
  point P102 (96.05, 0)
  point P103 (97.75, 0)
  point P104 (99.45, 0)
  point P105 (101.15, 0)
  point P106 (102.85, 0)
  point P107 (104.55, 0)
  point P108 (106.25, 0)
  point P109 (107.95, 0)
  point P110 (109.65, 0)
  point P111 (111.35, 0)
  point P112 (113.05, 0)
  point P113 (114.75, 0)
  point P114 (116.45, 0)
  point P115 (118.15, 0)
  point P116 (75.65, 0)
  point P117 (83.5152, 3.0934)
  point P118 (121.55, 0)
  point P119 (119.9034, 0.1256)
  point P120 (119.7931, 0.134)
  point P121 (118.2567, 0.2511)
  point P122 (118.0361, 0.2679)
  point P123 (116.6101, 0.3767)
  point P124 (116.2792, 0.4019)
  point P125 (114.9635, 0.5022)
  point P126 (114.5222, 0.5359)
  point P127 (113.3168, 0.6278)
  point P128 (112.7653, 0.6699)
  point P129 (111.6702, 0.7534)
  point P130 (111.0084, 0.8038)
  point P131 (110.0235, 0.8789)
  point P132 (109.2514, 0.9378)
  point P133 (108.3769, 1.0045)
  point P134 (107.4945, 1.0718)
  point P135 (106.7303, 1.13)
  point P136 (105.7376, 1.2057)
  point P137 (105.0836, 1.2556)
  point P138 (103.9806, 1.3397)
  point P139 (103.437, 1.3812)
  point P140 (102.2237, 1.4737)
  point P141 (101.7904, 1.5067)
  point P142 (100.4667, 1.6077)
  point P143 (100.1437, 1.6323)
  point P144 (98.7098, 1.7416)
  point P145 (98.4971, 1.7578)
  point P146 (96.9529, 1.8756)
  point P147 (96.8504, 1.8834)
  point P148 (95.3517, 1.9961)
  point P149 (95.3484, 1.9963)
  point P150 (93.8315, 2.3083)
  point P151 (93.6729, 2.3186)
  point P152 (92.0834, 2.4213)
  point P153 (92.0184, 2.4255)
  point P154 (90.4829, 2.6873)
  point P155 (90.2231, 2.7013)
  point P156 (88.743, 2.7811)
  point P157 (88.5611, 2.7909)
  point P158 (87.0032, 2.8748)
  point P159 (86.8992, 2.8804)
  point P160 (85.2634, 2.9686)
  point P161 (85.2372, 2.97)
  point P162 (83.5863, 3.0899)
  point P163 (75.65, 0)
  dimension "d34" = 1.7
  dimension "d35" = 0.85
  dimension "d38" = 1.7
  dimension "d46" = 2
  dimension "d47" = 3.5
  dimension "d48" = 0
extrude "Extrusion5" cut sketch "Skizze5" against normal blind 10 contours L3 L255 L178 L179 L176 L177 L174 L175 L172 L173 L170 L171 L168 L169 L166 L167 L164 L165 L162 L163 L160 L161 L158 L159 L156 L157 L154 L155 L152 L153 L150 L151 L148 L149 L146 L147 L144 L145 L142 L143 L140 L141 L138 L139 L136 L137 L134 L135 L132 L133 L130 L131 L128 L129 L126 L127 L124 L125 L122 L123 L120 L121 L118 L119 L116 L117 L114 L115 L112 L113 L110 L111 L108 L109 L106 L107 L104 L105 L102 L103 L100 L101 L98 L99 L96 L97 L94 L95 L92 L93 L90 L91 L88 L89 L86 L87 L84 L85 L82 L83 L80 L81 L78 L79 L76 L77 L74 L75 L72 L73 L70 L71 L68 L69 L66 L67 L64 L65 L62 L63 L60 L61 L58 L59 L56 L57 L54 L55 L52 L53 L50 L51 L48 L49 L46 L47 L44 L45 L42 L43 L40 L41 L38 L39 L36 L37 L34 L35 L32 L33 L30 L31 L28 L29 L26 L27 L24 L25 L22 L23 L20 L21 L18 L19 L16 L17 L14 L15 L12 L13 L10 L11 L8 L9 L6 L7 L4 L5 L2 L1 L0 | L256 L233 L230 | L256 L231 L228 | L256 L229 L226 | L256 L227 L224 | L256 L225 L222 | L256 L223 L220 | L256 L221 L218 | L256 L219 L216 | L256 L217 L214 | L256 L215 L212 | L256 L213 L210 | L256 L211 L208 | L256 L209 L206 | L256 L207 L204
sketch "Skizze4" plane through (8, -3.5, 75.65) normal (1, 0, 0) x (0, 0, -1)
  line L0 (159.798, 12.6836) -> (48.4645, 12.6836)
  line L1 (48.4645, 12.6836) -> (48.4645, -7.7347)
  line L2 (48.4645, -7.7347) -> (159.798, -7.7347)
  line L3 (159.798, -7.7347) -> (159.798, 12.6836)
  point P0 (75.65, 3.5)
extrude "Extrusion4" [suppressed]
sketch "Skizze6" plane through (8, -3.5, 75.65) normal (1, 0, 0) x (0, 0, -1)
  line L0 (156.3463, 21.6609) -> (100, 21.6609)
  line L1 (100, 21.6609) -> (100, -20.81)
  line L2 (100, -20.81) -> (156.3463, -20.81)
  line L3 (156.3463, -20.81) -> (156.3463, 21.6609)
  line L4 (0, 3.5) -> (0, 0) projected
  point P0 (75.65, 3.5)
  dimension "d49" = 100
extrude "Extrusion6" cut sketch "Skizze6" against normal blind 10
properties part number "Zahnradbahn_klein"
